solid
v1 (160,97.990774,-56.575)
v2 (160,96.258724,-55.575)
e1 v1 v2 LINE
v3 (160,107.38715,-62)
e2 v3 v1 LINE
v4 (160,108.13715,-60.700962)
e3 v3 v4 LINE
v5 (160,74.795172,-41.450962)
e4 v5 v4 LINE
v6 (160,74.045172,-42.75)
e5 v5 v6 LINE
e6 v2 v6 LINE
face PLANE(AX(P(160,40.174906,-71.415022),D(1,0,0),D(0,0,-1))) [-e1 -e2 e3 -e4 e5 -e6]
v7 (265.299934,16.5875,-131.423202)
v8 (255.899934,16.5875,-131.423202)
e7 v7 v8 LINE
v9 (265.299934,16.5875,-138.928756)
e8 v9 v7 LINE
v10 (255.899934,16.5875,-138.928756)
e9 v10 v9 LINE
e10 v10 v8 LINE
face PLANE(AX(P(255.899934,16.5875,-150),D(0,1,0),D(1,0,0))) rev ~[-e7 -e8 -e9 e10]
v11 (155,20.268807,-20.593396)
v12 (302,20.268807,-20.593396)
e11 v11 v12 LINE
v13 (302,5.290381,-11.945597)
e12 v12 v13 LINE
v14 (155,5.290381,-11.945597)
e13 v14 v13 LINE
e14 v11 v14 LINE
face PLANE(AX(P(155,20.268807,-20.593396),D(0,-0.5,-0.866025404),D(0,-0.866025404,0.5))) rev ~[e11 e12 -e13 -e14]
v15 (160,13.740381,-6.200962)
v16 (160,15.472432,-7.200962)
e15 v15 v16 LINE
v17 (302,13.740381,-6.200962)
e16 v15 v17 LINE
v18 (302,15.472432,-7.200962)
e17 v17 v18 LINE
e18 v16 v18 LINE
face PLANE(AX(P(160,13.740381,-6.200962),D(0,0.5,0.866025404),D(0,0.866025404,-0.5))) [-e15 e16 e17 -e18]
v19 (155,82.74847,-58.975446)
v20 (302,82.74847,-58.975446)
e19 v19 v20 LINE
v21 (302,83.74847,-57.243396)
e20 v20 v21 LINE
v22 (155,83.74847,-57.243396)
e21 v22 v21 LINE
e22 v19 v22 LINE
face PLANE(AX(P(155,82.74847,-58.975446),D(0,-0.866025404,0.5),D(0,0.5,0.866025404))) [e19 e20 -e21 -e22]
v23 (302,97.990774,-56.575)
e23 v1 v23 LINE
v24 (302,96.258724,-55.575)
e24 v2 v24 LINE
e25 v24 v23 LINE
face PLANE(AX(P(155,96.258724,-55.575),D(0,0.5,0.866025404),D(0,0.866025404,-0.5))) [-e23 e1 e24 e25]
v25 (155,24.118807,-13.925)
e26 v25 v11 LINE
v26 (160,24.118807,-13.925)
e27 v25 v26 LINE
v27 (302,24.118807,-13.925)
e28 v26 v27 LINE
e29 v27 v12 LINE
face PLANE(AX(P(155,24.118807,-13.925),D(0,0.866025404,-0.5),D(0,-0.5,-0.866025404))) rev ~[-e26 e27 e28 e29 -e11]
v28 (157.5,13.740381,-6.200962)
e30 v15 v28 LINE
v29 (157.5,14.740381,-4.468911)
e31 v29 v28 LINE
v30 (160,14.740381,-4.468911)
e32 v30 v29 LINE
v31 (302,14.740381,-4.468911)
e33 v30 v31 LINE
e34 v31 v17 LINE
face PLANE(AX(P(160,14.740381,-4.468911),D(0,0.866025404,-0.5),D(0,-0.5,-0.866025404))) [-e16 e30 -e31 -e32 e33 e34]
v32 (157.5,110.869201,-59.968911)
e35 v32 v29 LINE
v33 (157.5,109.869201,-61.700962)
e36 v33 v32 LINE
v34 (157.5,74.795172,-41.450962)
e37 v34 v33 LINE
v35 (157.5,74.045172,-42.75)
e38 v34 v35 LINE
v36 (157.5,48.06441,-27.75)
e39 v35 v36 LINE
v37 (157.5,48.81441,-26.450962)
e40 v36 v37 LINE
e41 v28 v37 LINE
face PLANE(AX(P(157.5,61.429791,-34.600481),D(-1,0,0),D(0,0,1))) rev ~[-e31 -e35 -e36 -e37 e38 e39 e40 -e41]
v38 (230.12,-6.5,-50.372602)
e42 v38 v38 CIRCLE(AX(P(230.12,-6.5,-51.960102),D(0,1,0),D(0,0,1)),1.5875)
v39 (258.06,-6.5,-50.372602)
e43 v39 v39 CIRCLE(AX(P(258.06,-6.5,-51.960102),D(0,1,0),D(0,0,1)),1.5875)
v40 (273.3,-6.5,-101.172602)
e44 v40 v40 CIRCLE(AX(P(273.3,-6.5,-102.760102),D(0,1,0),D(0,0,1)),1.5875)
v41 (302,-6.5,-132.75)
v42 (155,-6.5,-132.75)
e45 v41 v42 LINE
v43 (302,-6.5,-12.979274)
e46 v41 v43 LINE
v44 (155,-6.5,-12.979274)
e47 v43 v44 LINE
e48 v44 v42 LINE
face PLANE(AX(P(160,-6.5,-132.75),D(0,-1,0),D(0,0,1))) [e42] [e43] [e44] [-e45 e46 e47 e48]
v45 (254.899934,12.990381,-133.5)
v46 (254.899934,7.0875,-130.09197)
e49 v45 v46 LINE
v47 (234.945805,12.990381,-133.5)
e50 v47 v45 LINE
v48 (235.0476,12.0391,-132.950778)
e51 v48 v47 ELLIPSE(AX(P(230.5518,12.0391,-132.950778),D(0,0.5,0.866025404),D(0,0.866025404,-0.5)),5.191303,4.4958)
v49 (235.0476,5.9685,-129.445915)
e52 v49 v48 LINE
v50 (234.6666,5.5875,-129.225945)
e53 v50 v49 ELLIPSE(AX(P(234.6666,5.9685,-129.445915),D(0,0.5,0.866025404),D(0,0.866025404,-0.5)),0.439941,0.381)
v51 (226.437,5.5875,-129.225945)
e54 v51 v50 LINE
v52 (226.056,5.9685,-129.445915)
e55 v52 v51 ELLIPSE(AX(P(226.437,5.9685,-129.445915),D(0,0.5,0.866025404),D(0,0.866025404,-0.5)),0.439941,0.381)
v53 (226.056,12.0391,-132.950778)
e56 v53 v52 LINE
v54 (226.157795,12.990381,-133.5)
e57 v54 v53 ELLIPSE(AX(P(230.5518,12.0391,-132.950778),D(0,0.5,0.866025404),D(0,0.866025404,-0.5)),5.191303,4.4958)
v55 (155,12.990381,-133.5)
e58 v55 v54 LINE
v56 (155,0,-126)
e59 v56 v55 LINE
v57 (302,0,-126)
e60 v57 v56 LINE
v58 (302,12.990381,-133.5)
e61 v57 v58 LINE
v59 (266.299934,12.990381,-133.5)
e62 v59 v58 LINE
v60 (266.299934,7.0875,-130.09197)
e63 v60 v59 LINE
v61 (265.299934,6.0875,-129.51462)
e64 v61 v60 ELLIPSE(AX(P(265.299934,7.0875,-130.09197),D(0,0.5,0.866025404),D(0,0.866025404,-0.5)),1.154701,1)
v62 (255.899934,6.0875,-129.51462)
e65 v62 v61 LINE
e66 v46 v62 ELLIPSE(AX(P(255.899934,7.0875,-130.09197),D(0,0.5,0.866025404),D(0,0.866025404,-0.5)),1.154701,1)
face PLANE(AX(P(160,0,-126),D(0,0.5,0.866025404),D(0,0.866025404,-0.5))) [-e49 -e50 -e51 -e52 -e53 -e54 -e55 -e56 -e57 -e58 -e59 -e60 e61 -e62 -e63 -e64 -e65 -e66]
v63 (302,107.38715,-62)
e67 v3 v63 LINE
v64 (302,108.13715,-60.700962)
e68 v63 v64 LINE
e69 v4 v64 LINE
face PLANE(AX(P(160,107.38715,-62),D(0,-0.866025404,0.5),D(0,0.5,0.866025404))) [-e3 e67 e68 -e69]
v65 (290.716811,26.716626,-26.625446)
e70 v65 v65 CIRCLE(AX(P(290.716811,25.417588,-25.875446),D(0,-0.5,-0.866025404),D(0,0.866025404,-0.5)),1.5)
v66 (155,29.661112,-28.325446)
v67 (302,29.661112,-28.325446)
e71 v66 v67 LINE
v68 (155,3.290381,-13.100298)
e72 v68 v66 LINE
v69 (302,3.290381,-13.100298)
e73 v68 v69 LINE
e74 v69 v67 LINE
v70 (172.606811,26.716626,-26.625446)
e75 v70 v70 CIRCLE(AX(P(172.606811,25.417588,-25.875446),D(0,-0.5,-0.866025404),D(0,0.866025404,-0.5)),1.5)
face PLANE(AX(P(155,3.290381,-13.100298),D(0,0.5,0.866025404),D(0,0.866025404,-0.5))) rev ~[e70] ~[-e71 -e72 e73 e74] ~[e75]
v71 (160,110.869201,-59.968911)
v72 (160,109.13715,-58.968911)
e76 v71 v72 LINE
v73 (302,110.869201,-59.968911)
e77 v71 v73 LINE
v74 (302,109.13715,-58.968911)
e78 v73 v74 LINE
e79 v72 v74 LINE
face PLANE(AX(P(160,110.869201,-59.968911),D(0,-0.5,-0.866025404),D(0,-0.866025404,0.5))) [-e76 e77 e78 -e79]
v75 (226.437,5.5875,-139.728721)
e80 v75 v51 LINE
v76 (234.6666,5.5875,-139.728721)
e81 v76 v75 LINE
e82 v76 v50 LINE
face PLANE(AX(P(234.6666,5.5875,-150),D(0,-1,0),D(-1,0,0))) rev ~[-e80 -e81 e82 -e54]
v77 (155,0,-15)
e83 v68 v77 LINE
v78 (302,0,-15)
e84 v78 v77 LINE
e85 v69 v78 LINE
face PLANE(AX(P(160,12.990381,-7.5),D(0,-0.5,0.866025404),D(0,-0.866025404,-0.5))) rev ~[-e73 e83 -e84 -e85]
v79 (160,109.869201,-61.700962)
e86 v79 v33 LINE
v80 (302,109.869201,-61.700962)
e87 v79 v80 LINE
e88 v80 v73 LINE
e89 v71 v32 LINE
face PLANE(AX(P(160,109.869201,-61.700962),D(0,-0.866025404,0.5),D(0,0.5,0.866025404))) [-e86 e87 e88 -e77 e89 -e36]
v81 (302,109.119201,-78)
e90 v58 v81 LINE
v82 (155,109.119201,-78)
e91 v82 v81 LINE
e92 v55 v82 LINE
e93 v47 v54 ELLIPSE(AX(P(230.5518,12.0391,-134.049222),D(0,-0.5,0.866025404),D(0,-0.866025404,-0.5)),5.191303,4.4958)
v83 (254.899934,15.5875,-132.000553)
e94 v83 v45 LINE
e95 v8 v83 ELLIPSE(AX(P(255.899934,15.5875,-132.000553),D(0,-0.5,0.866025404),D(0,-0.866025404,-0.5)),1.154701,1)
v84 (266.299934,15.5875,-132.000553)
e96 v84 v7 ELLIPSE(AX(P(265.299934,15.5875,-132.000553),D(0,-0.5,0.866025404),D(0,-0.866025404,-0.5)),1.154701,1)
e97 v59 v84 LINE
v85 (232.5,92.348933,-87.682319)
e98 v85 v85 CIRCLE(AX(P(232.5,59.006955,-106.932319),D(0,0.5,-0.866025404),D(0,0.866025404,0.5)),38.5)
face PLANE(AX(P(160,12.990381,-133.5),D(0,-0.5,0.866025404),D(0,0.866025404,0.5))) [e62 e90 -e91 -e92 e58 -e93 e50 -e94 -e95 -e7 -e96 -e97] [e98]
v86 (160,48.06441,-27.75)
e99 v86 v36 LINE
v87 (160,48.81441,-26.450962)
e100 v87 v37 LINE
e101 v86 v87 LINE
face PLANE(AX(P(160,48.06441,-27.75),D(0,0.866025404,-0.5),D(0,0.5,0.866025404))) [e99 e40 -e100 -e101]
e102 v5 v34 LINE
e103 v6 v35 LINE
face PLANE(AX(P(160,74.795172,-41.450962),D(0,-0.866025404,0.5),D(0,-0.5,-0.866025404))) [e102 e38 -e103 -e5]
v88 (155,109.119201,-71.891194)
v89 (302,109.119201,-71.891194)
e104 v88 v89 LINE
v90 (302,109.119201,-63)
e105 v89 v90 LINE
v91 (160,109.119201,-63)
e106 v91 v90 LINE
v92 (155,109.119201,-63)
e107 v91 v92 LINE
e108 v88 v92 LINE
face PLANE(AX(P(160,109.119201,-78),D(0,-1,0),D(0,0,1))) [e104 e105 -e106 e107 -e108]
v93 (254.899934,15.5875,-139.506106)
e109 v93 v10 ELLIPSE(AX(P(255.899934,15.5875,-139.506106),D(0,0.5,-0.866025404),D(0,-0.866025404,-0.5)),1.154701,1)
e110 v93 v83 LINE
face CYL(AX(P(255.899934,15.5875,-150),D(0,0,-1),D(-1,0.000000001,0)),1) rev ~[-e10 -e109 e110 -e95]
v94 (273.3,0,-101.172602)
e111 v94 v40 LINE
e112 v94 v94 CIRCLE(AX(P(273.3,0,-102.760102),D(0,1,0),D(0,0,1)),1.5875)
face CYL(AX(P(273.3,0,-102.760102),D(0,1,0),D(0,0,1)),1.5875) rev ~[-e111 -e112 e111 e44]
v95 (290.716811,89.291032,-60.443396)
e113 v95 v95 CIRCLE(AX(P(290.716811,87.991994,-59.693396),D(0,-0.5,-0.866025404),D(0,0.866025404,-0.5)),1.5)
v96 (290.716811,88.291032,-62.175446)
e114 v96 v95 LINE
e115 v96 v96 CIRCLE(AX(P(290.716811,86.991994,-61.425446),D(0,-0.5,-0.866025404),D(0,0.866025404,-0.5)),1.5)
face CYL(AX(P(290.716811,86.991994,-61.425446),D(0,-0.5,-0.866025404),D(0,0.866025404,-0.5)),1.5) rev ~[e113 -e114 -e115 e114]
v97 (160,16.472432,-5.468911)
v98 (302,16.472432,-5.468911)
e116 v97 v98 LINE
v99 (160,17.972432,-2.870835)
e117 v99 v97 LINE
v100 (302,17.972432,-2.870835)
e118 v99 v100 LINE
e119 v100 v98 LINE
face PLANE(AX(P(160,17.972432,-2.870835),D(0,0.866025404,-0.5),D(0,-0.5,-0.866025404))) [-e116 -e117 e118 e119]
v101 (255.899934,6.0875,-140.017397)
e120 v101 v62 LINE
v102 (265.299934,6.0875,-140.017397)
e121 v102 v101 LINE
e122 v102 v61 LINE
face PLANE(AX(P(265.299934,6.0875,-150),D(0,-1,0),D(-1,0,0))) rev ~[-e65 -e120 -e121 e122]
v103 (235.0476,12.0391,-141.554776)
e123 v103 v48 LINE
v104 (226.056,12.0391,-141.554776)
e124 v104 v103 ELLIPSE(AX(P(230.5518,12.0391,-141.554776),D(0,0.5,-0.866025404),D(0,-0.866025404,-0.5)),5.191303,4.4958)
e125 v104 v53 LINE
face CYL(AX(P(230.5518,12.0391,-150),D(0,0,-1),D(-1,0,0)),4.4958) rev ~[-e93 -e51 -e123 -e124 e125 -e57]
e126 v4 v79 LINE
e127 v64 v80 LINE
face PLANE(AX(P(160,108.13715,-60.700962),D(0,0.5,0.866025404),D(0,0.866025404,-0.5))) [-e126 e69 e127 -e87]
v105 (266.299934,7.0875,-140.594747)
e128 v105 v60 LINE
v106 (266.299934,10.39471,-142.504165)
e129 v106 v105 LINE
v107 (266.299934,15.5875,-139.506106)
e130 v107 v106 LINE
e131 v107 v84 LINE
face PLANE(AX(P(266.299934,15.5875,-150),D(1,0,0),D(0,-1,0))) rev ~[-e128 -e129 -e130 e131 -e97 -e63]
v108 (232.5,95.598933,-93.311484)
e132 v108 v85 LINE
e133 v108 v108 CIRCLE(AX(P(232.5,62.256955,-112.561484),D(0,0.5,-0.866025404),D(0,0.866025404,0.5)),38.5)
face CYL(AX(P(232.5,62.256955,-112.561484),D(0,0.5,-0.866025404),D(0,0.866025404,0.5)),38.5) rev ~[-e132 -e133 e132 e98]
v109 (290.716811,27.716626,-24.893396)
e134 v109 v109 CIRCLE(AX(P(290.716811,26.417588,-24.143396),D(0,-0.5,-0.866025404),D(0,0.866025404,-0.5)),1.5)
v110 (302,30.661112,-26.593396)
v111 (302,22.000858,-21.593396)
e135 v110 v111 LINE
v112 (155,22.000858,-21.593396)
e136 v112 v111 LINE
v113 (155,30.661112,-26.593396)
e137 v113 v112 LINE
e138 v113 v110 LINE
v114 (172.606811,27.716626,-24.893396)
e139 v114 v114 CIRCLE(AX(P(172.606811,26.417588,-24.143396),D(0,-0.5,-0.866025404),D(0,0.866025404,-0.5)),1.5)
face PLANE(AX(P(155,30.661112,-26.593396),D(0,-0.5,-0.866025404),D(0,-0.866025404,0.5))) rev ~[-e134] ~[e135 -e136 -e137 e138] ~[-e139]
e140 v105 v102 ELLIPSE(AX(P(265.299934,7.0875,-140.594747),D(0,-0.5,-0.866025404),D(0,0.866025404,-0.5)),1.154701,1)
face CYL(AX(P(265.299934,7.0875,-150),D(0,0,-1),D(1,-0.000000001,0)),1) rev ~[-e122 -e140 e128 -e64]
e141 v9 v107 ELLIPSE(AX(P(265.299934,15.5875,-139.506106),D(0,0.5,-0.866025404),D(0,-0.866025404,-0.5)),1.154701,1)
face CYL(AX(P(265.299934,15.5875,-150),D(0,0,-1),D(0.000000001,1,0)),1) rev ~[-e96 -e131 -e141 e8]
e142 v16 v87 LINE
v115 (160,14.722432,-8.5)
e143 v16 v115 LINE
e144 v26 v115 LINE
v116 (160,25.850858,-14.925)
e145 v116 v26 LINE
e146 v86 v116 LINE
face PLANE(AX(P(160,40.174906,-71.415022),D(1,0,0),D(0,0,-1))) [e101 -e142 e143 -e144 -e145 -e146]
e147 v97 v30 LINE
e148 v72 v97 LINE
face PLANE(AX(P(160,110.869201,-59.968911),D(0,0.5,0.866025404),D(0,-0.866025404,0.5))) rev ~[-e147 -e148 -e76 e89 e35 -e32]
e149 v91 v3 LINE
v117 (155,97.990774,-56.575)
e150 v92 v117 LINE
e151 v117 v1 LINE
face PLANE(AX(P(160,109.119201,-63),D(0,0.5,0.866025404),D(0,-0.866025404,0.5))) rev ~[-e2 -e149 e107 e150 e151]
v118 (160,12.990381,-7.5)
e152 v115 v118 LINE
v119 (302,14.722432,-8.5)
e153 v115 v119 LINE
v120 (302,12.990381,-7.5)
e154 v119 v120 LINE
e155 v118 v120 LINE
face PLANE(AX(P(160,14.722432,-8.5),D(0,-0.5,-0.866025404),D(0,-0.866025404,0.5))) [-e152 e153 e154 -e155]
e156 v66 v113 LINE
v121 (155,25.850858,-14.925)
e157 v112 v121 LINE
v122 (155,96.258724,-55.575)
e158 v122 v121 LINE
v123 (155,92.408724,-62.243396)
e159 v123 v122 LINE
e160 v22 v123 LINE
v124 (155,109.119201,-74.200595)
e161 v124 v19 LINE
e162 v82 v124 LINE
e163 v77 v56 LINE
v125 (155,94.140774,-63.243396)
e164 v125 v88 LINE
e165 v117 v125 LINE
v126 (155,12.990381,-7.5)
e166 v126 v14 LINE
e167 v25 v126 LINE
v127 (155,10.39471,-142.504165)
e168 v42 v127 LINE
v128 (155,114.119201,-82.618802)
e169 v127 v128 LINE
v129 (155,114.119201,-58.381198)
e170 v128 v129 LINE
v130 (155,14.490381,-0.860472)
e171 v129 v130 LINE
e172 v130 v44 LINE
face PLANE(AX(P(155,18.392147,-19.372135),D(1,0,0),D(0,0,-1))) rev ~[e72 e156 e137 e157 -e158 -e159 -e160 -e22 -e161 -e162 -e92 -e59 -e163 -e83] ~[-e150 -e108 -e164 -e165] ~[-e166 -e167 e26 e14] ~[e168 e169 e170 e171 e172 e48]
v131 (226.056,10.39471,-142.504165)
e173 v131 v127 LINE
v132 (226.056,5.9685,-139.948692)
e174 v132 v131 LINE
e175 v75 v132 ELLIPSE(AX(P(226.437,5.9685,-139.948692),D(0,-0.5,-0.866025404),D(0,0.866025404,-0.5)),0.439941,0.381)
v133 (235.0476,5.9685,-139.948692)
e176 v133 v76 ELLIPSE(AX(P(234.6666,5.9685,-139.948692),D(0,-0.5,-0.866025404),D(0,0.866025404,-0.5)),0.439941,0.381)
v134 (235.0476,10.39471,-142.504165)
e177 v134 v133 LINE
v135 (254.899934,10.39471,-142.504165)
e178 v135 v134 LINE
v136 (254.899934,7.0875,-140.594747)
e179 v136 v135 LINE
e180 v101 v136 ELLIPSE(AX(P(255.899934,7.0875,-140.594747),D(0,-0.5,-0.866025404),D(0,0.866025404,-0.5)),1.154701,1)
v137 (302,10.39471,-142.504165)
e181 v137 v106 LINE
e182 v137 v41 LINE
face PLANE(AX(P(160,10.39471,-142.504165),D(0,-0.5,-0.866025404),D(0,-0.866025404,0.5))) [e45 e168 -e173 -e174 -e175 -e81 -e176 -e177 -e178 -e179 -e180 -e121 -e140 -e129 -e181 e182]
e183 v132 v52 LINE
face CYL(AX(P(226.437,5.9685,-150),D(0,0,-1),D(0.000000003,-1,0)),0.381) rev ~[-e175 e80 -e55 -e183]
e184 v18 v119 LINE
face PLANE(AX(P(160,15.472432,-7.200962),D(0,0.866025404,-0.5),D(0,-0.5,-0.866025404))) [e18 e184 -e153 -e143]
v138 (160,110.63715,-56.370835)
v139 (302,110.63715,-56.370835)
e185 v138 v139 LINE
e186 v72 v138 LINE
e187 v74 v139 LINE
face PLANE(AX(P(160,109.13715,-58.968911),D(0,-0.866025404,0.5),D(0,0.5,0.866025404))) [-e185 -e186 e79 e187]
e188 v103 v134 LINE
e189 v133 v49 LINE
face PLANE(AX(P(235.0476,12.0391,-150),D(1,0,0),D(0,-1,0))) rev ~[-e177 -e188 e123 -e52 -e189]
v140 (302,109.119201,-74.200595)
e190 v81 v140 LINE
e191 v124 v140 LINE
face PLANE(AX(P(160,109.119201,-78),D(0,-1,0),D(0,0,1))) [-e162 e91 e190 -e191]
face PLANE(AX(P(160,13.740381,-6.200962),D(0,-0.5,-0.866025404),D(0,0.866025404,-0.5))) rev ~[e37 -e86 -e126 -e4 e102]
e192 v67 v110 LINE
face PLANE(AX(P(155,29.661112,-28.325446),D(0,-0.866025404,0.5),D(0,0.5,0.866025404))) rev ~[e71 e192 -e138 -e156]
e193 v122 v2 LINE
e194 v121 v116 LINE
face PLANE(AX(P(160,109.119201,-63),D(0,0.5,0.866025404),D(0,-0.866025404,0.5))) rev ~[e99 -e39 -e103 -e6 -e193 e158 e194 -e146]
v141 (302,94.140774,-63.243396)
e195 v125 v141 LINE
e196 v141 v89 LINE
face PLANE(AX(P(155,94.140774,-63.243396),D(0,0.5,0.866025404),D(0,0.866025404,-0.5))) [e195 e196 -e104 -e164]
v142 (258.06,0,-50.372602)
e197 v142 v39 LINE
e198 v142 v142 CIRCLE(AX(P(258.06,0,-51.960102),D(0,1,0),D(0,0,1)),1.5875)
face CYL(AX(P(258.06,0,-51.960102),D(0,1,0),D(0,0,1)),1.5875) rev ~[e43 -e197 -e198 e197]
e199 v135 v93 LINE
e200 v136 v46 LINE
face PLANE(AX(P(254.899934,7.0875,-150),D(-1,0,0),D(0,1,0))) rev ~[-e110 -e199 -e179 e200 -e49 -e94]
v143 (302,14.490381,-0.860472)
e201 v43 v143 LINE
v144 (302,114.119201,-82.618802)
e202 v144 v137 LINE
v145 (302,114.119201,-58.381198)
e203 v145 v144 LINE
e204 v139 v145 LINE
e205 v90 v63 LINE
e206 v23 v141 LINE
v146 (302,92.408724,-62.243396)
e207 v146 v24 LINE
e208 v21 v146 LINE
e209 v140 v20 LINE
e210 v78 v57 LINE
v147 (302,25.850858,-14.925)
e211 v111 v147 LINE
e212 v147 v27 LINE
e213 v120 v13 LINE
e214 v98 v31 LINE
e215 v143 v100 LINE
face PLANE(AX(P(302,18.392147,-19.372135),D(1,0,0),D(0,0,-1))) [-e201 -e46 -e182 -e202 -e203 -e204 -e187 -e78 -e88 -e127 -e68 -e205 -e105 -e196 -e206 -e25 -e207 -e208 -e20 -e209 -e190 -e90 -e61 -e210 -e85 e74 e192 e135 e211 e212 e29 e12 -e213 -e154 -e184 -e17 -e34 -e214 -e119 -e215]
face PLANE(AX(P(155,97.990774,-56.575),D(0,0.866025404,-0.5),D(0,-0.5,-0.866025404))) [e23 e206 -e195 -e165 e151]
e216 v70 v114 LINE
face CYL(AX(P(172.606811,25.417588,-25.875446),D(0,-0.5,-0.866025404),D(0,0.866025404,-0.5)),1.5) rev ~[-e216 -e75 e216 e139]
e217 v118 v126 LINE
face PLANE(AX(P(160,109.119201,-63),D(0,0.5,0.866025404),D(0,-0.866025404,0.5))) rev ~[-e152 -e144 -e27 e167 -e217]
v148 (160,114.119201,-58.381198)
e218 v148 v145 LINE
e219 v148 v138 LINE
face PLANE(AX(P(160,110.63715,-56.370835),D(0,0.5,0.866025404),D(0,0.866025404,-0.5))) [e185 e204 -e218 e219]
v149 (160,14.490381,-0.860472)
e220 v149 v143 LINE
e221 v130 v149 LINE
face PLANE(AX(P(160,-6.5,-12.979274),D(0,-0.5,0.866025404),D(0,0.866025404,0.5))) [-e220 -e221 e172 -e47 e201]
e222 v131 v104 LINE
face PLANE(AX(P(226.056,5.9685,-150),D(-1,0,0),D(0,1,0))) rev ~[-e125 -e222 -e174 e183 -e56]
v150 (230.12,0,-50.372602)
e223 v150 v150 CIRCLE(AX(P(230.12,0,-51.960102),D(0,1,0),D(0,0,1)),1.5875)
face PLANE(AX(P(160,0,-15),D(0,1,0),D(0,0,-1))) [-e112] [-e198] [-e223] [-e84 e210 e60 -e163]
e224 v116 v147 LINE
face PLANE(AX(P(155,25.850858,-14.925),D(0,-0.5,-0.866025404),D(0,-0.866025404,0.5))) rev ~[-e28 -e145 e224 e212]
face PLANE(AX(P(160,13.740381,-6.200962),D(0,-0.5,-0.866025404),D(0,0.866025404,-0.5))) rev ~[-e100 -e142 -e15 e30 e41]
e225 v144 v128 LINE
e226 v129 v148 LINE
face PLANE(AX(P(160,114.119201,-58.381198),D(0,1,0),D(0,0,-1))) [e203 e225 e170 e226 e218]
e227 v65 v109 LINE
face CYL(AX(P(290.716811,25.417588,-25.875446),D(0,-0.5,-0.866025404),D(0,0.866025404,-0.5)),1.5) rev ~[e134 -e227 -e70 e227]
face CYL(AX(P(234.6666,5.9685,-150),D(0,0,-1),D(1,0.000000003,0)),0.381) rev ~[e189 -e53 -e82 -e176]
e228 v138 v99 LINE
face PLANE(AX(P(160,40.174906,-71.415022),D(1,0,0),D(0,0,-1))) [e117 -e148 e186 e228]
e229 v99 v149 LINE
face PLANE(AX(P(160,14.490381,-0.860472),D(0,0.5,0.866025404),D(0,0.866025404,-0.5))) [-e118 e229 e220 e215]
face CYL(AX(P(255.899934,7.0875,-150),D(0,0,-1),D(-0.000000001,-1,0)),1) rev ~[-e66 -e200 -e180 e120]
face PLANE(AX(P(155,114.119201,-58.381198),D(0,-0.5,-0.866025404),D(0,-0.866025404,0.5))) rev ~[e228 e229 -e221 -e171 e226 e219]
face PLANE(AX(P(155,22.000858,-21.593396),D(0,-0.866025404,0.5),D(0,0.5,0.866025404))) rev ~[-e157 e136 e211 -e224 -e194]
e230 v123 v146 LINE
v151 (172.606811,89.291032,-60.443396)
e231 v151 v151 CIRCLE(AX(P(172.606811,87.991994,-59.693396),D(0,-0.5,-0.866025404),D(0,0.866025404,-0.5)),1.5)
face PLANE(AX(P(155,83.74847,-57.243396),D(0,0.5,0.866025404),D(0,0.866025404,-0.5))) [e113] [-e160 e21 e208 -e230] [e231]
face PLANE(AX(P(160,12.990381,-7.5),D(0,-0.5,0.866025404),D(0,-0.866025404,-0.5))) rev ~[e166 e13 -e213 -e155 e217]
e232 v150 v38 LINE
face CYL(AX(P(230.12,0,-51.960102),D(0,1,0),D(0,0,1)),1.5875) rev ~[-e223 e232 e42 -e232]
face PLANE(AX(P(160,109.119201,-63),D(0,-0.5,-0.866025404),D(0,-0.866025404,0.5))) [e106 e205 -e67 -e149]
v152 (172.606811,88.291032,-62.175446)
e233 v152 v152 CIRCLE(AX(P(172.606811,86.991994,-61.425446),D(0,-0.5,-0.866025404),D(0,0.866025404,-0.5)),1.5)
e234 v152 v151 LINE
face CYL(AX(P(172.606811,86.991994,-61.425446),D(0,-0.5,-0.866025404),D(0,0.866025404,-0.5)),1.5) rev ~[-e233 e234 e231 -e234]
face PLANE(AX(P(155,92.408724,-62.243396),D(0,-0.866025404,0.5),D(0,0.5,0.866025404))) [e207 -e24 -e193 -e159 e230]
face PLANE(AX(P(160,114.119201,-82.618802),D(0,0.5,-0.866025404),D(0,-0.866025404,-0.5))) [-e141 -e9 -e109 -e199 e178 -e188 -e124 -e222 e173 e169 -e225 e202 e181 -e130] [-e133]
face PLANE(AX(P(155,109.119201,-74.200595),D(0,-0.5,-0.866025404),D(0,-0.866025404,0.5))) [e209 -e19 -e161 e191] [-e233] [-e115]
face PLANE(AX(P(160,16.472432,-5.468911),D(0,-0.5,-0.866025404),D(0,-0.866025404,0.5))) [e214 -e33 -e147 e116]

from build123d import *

# Parameters (mm, degrees)
BOSS_EXTRUDE1_DEPTH = 155
SKETCH4_W           = 144
SKETCH4_H           = 111
CUT_EXTRUDE1_DEPTH  = 5
SKETCH5_R           = 38.5
CUT_EXTRUDE2_DEPTH  = 10
BOSS_EXTRUDE2_DEPTH = 5
CUT_EXTRUDE3_DEPTH  = 5
CUT_EXTRUDE4_DEPTH  = 2.5
CUT_EXTRUDE5_DEPTH  = 2.5
BOSS_EXTRUDE3_DEPTH = 142
SKETCH12_R          = 38.5
CUT_EXTRUDE6_DEPTH  = 6.5
BOSS_EXTRUDE4_DEPTH = 147
CUT_EXTRUDE7_DEPTH  = 25
SKETCH16_R          = 1.5
CUT_EXTRUDE8_DEPTH  = 5
SKETCH17_R          = 1.5875
CUT_EXTRUDE9_DEPTH  = 10


with BuildPart() as part:
    # Sketch3 → Boss-Extrude1 (new body)
    with BuildSketch(Plane(origin=(0, 0, 0), x_dir=(0, 0, -1), z_dir=(1, 0, 0))):
        Polygon((58.381197846, 114.119200877), (0.860471904, 14.490381057), (12.979274058, -6.5), (132.75, -6.5), (142.504165125, 10.394709581), (82.618802154, 114.119200877), align=None)
        Polygon((7.5, 12.990381057), (15, 0), (15, -1.5), (126, -1.5), (126, 0), (133.5, 12.990381057), (134.799038106, 13.740381057), (79.299038106, 109.869200877), (78, 109.119200877), (63, 109.119200877), (61.700961894, 109.869200877), (6.200961894, 13.740381057), align=None, mode=Mode.SUBTRACT)
    extrude(amount=BOSS_EXTRUDE1_DEPTH)

    # Sketch4 → Cut-Extrude1 (cut)
    with BuildSketch(Plane(origin=(0, 3.25, 5.629165125), x_dir=(1, 0, 0), z_dir=(0, 0.4999999999999995, 0.8660254037844389))):
        with Locations((77.5, 70.5)):
            Rectangle(SKETCH4_W, SKETCH4_H)
    extrude(amount=-CUT_EXTRUDE1_DEPTH, mode=Mode.SUBTRACT)

    # Sketch5 → Cut-Extrude2 (cut)
    with BuildSketch(Plane(origin=(0, 64.304790967, -111.379165125), x_dir=(-1, 0, 0), z_dir=(0, 0.5000000000000006, -0.8660254037844385))):
        with Locations(Location((-77.5, -2.364637029, 0), (0, 0, 90))):
            Circle(SKETCH5_R)
    extrude(amount=-CUT_EXTRUDE2_DEPTH, mode=Mode.SUBTRACT)


with BuildPart() as body_2:
    # Sketch6 → Boss-Extrude2 (new body)
    with BuildSketch(Plane(origin=(155, 0, 0), x_dir=(0, 0, -1), z_dir=(1, 0, 0))):
        Polygon((82.618802154, 114.119200877), (58.381197846, 114.119200877), (0.860471904, 14.490381057), (12.979274058, -6.5), (132.75, -6.5), (142.504165125, 10.394709581), align=None)
    extrude(amount=BOSS_EXTRUDE2_DEPTH)

    # Sketch7 → Cut-Extrude3 (cut)
    with BuildSketch(Plane(origin=(160, 0, 0), x_dir=(0, 0, -1), z_dir=(1, 0, 0))):
        Polygon((63, 109.119200877), (7.5, 12.990381057), (15, 0), (126, 0), (133.5, 12.990381057), (78, 109.119200877), align=None)
    extrude(amount=-CUT_EXTRUDE3_DEPTH, mode=Mode.SUBTRACT)

    # Sketch8 → Cut-Extrude4 (cut)
    with BuildSketch(Plane(origin=(160, 0, 0), x_dir=(0, 0, -1), z_dir=(1, 0, 0))):
        Polygon((6.200961894, 13.740381057), (61.700961894, 109.869200877), (59.968911087, 110.869200877), (4.468911087, 14.740381057), align=None)
    extrude(amount=-CUT_EXTRUDE4_DEPTH, mode=Mode.SUBTRACT)

    # Sketch10 → Cut-Extrude5 (cut)
    with BuildSketch(Plane(origin=(160, 0, 0), x_dir=(0, 0, -1), z_dir=(1, 0, 0))):
        Polygon((42.75, 74.045172024), (27.75, 48.06440991), (26.450961894, 48.81440991), (41.450961894, 74.795172024), align=None)
    extrude(amount=-CUT_EXTRUDE5_DEPTH, mode=Mode.SUBTRACT)

    # Sketch11 → Boss-Extrude3 (add)
    with BuildSketch(Plane(origin=(160, 0, 0), x_dir=(0, 0, -1), z_dir=(1, 0, 0))):
        Polygon((63, 109.119200877), (62, 107.387150069), (60.700961894, 108.137150069), (61.700961894, 109.869200877), (59.968911087, 110.869200877), (58.968911087, 109.137150069), (56.370834875, 110.637150069), (58.381197846, 114.119200877), (82.618802154, 114.119200877), (142.504165125, 10.394709581), (132.75, -6.5), (12.979274058, -6.5), (0.860471904, 14.490381057), (2.870834875, 17.972431864), (5.468911087, 16.472431864), (4.468911087, 14.740381057), (6.200961894, 13.740381057), (7.200961894, 15.472431864), (8.5, 14.722431864), (7.5, 12.990381057), (15, 0), (126, 0), (133.5, 12.990381057), (78, 109.119200877), align=None)
    extrude(amount=BOSS_EXTRUDE3_DEPTH)

    # Sketch12 → Cut-Extrude6 (cut)
    with BuildSketch(Plane(origin=(0, 64.304790967, -111.379165125), x_dir=(-1, 0, 0), z_dir=(0, 0.5000000000000006, -0.8660254037844384))):
        with Locations(Location((-232.5, -2.364637029, 0), (0, 0, 90))):
            Circle(SKETCH12_R)
    extrude(amount=-CUT_EXTRUDE6_DEPTH, mode=Mode.SUBTRACT)

    # Sketch13 → Boss-Extrude4 (add)
    with BuildSketch(Plane.ZY.offset(-155)):
        Polygon((-26.593395609, 30.661112341), (-21.593395609, 22.000858303), (-14.925, 25.850858303), (-13.925, 24.118807495), (-20.593395609, 20.268807495), (-11.945597073, 5.290381057), (-13.100297611, 3.290381057), (-28.325446417, 29.661112341), align=None)
        Polygon((-62.243395609, 92.408723631), (-55.575, 96.258723631), (-56.575, 97.990774438), (-63.243395609, 94.140774438), (-71.891194146, 109.119200877), (-74.200595222, 109.119200877), (-58.975446417, 82.748469593), (-57.243395609, 83.748469593), align=None)
    extrude(amount=-BOSS_EXTRUDE4_DEPTH)

    # Sketch14 → Cut-Extrude7 (cut)
    with BuildSketch(Plane.XY.offset(-150)):
        with BuildLine():
            Line((234.6666, 5.5875), (226.437, 5.5875))
            ThreePointArc((226.437, 5.5875), (226.167592316, 5.699092316), (226.056, 5.9685))
            Line((226.056, 5.9685), (226.056, 12.0391))
            ThreePointArc((226.056, 12.0391), (230.5518, 16.5349), (235.0476, 12.0391))
            Line((235.0476, 12.0391), (235.0476, 5.9685))
            ThreePointArc((235.0476, 5.9685), (234.936007684, 5.699092316), (234.6666, 5.5875))
        make_face()
        with BuildLine():
            Line((265.299934, 6.0875), (255.899934, 6.0875))
            ThreePointArc((255.899934, 6.0875), (255.192827219, 6.380393219), (254.899934, 7.0875))
            Line((254.899934, 7.0875), (254.899934, 15.5875))
            ThreePointArc((254.899934, 15.5875), (255.192827219, 16.294606781), (255.899934, 16.5875))
            Line((255.899934, 16.5875), (265.299934, 16.5875))
            ThreePointArc((265.299934, 16.5875), (266.007040781, 16.294606781), (266.299934, 15.5875))
            Line((266.299934, 15.5875), (266.299934, 7.0875))
            ThreePointArc((266.299934, 7.0875), (266.007040781, 6.380393219), (265.299934, 6.0875))
        make_face()
    extrude(amount=CUT_EXTRUDE7_DEPTH, mode=Mode.SUBTRACT)

    # Sketch16 → Cut-Extrude8 (cut)
    with BuildSketch(Plane(origin=(0, -4.85, -8.400446417), x_dir=(-1, 0, 0), z_dir=(0, -0.4999999999999997, -0.8660254037844389))):
        with Locations(Location((-172.60681079, 106.05, 0), (0, 0, 90))):
            Circle(SKETCH16_R)
        with Locations(Location((-172.60681079, 34.95, 0), (0, 0, 90))):
            Circle(SKETCH16_R)
        with Locations(Location((-290.71681079, 106.05, 0), (0, 0, 90))):
            Circle(SKETCH16_R)
        with Locations(Location((-290.71681079, 34.95, 0), (0, 0, 90))):
            Circle(SKETCH16_R)
    extrude(amount=-CUT_EXTRUDE8_DEPTH, mode=Mode.SUBTRACT)

    # Sketch17 → Cut-Extrude9 (cut)
    with BuildSketch(Plane(origin=(0, 0, 0), x_dir=(1, 0, 0), z_dir=(0, 1, 0))):
        with Locations(Location((230.12, 51.9601016, 0), (0, 0, 270))):
            Circle(SKETCH17_R)
        with Locations(Location((258.06, 51.9601016, 0), (0, 0, 270))):
            Circle(SKETCH17_R)
        with Locations(Location((273.3, 102.7601016, 0), (0, 0, 270))):
            Circle(SKETCH17_R)
    extrude(amount=-CUT_EXTRUDE9_DEPTH, mode=Mode.SUBTRACT)


solid = body_2.part
